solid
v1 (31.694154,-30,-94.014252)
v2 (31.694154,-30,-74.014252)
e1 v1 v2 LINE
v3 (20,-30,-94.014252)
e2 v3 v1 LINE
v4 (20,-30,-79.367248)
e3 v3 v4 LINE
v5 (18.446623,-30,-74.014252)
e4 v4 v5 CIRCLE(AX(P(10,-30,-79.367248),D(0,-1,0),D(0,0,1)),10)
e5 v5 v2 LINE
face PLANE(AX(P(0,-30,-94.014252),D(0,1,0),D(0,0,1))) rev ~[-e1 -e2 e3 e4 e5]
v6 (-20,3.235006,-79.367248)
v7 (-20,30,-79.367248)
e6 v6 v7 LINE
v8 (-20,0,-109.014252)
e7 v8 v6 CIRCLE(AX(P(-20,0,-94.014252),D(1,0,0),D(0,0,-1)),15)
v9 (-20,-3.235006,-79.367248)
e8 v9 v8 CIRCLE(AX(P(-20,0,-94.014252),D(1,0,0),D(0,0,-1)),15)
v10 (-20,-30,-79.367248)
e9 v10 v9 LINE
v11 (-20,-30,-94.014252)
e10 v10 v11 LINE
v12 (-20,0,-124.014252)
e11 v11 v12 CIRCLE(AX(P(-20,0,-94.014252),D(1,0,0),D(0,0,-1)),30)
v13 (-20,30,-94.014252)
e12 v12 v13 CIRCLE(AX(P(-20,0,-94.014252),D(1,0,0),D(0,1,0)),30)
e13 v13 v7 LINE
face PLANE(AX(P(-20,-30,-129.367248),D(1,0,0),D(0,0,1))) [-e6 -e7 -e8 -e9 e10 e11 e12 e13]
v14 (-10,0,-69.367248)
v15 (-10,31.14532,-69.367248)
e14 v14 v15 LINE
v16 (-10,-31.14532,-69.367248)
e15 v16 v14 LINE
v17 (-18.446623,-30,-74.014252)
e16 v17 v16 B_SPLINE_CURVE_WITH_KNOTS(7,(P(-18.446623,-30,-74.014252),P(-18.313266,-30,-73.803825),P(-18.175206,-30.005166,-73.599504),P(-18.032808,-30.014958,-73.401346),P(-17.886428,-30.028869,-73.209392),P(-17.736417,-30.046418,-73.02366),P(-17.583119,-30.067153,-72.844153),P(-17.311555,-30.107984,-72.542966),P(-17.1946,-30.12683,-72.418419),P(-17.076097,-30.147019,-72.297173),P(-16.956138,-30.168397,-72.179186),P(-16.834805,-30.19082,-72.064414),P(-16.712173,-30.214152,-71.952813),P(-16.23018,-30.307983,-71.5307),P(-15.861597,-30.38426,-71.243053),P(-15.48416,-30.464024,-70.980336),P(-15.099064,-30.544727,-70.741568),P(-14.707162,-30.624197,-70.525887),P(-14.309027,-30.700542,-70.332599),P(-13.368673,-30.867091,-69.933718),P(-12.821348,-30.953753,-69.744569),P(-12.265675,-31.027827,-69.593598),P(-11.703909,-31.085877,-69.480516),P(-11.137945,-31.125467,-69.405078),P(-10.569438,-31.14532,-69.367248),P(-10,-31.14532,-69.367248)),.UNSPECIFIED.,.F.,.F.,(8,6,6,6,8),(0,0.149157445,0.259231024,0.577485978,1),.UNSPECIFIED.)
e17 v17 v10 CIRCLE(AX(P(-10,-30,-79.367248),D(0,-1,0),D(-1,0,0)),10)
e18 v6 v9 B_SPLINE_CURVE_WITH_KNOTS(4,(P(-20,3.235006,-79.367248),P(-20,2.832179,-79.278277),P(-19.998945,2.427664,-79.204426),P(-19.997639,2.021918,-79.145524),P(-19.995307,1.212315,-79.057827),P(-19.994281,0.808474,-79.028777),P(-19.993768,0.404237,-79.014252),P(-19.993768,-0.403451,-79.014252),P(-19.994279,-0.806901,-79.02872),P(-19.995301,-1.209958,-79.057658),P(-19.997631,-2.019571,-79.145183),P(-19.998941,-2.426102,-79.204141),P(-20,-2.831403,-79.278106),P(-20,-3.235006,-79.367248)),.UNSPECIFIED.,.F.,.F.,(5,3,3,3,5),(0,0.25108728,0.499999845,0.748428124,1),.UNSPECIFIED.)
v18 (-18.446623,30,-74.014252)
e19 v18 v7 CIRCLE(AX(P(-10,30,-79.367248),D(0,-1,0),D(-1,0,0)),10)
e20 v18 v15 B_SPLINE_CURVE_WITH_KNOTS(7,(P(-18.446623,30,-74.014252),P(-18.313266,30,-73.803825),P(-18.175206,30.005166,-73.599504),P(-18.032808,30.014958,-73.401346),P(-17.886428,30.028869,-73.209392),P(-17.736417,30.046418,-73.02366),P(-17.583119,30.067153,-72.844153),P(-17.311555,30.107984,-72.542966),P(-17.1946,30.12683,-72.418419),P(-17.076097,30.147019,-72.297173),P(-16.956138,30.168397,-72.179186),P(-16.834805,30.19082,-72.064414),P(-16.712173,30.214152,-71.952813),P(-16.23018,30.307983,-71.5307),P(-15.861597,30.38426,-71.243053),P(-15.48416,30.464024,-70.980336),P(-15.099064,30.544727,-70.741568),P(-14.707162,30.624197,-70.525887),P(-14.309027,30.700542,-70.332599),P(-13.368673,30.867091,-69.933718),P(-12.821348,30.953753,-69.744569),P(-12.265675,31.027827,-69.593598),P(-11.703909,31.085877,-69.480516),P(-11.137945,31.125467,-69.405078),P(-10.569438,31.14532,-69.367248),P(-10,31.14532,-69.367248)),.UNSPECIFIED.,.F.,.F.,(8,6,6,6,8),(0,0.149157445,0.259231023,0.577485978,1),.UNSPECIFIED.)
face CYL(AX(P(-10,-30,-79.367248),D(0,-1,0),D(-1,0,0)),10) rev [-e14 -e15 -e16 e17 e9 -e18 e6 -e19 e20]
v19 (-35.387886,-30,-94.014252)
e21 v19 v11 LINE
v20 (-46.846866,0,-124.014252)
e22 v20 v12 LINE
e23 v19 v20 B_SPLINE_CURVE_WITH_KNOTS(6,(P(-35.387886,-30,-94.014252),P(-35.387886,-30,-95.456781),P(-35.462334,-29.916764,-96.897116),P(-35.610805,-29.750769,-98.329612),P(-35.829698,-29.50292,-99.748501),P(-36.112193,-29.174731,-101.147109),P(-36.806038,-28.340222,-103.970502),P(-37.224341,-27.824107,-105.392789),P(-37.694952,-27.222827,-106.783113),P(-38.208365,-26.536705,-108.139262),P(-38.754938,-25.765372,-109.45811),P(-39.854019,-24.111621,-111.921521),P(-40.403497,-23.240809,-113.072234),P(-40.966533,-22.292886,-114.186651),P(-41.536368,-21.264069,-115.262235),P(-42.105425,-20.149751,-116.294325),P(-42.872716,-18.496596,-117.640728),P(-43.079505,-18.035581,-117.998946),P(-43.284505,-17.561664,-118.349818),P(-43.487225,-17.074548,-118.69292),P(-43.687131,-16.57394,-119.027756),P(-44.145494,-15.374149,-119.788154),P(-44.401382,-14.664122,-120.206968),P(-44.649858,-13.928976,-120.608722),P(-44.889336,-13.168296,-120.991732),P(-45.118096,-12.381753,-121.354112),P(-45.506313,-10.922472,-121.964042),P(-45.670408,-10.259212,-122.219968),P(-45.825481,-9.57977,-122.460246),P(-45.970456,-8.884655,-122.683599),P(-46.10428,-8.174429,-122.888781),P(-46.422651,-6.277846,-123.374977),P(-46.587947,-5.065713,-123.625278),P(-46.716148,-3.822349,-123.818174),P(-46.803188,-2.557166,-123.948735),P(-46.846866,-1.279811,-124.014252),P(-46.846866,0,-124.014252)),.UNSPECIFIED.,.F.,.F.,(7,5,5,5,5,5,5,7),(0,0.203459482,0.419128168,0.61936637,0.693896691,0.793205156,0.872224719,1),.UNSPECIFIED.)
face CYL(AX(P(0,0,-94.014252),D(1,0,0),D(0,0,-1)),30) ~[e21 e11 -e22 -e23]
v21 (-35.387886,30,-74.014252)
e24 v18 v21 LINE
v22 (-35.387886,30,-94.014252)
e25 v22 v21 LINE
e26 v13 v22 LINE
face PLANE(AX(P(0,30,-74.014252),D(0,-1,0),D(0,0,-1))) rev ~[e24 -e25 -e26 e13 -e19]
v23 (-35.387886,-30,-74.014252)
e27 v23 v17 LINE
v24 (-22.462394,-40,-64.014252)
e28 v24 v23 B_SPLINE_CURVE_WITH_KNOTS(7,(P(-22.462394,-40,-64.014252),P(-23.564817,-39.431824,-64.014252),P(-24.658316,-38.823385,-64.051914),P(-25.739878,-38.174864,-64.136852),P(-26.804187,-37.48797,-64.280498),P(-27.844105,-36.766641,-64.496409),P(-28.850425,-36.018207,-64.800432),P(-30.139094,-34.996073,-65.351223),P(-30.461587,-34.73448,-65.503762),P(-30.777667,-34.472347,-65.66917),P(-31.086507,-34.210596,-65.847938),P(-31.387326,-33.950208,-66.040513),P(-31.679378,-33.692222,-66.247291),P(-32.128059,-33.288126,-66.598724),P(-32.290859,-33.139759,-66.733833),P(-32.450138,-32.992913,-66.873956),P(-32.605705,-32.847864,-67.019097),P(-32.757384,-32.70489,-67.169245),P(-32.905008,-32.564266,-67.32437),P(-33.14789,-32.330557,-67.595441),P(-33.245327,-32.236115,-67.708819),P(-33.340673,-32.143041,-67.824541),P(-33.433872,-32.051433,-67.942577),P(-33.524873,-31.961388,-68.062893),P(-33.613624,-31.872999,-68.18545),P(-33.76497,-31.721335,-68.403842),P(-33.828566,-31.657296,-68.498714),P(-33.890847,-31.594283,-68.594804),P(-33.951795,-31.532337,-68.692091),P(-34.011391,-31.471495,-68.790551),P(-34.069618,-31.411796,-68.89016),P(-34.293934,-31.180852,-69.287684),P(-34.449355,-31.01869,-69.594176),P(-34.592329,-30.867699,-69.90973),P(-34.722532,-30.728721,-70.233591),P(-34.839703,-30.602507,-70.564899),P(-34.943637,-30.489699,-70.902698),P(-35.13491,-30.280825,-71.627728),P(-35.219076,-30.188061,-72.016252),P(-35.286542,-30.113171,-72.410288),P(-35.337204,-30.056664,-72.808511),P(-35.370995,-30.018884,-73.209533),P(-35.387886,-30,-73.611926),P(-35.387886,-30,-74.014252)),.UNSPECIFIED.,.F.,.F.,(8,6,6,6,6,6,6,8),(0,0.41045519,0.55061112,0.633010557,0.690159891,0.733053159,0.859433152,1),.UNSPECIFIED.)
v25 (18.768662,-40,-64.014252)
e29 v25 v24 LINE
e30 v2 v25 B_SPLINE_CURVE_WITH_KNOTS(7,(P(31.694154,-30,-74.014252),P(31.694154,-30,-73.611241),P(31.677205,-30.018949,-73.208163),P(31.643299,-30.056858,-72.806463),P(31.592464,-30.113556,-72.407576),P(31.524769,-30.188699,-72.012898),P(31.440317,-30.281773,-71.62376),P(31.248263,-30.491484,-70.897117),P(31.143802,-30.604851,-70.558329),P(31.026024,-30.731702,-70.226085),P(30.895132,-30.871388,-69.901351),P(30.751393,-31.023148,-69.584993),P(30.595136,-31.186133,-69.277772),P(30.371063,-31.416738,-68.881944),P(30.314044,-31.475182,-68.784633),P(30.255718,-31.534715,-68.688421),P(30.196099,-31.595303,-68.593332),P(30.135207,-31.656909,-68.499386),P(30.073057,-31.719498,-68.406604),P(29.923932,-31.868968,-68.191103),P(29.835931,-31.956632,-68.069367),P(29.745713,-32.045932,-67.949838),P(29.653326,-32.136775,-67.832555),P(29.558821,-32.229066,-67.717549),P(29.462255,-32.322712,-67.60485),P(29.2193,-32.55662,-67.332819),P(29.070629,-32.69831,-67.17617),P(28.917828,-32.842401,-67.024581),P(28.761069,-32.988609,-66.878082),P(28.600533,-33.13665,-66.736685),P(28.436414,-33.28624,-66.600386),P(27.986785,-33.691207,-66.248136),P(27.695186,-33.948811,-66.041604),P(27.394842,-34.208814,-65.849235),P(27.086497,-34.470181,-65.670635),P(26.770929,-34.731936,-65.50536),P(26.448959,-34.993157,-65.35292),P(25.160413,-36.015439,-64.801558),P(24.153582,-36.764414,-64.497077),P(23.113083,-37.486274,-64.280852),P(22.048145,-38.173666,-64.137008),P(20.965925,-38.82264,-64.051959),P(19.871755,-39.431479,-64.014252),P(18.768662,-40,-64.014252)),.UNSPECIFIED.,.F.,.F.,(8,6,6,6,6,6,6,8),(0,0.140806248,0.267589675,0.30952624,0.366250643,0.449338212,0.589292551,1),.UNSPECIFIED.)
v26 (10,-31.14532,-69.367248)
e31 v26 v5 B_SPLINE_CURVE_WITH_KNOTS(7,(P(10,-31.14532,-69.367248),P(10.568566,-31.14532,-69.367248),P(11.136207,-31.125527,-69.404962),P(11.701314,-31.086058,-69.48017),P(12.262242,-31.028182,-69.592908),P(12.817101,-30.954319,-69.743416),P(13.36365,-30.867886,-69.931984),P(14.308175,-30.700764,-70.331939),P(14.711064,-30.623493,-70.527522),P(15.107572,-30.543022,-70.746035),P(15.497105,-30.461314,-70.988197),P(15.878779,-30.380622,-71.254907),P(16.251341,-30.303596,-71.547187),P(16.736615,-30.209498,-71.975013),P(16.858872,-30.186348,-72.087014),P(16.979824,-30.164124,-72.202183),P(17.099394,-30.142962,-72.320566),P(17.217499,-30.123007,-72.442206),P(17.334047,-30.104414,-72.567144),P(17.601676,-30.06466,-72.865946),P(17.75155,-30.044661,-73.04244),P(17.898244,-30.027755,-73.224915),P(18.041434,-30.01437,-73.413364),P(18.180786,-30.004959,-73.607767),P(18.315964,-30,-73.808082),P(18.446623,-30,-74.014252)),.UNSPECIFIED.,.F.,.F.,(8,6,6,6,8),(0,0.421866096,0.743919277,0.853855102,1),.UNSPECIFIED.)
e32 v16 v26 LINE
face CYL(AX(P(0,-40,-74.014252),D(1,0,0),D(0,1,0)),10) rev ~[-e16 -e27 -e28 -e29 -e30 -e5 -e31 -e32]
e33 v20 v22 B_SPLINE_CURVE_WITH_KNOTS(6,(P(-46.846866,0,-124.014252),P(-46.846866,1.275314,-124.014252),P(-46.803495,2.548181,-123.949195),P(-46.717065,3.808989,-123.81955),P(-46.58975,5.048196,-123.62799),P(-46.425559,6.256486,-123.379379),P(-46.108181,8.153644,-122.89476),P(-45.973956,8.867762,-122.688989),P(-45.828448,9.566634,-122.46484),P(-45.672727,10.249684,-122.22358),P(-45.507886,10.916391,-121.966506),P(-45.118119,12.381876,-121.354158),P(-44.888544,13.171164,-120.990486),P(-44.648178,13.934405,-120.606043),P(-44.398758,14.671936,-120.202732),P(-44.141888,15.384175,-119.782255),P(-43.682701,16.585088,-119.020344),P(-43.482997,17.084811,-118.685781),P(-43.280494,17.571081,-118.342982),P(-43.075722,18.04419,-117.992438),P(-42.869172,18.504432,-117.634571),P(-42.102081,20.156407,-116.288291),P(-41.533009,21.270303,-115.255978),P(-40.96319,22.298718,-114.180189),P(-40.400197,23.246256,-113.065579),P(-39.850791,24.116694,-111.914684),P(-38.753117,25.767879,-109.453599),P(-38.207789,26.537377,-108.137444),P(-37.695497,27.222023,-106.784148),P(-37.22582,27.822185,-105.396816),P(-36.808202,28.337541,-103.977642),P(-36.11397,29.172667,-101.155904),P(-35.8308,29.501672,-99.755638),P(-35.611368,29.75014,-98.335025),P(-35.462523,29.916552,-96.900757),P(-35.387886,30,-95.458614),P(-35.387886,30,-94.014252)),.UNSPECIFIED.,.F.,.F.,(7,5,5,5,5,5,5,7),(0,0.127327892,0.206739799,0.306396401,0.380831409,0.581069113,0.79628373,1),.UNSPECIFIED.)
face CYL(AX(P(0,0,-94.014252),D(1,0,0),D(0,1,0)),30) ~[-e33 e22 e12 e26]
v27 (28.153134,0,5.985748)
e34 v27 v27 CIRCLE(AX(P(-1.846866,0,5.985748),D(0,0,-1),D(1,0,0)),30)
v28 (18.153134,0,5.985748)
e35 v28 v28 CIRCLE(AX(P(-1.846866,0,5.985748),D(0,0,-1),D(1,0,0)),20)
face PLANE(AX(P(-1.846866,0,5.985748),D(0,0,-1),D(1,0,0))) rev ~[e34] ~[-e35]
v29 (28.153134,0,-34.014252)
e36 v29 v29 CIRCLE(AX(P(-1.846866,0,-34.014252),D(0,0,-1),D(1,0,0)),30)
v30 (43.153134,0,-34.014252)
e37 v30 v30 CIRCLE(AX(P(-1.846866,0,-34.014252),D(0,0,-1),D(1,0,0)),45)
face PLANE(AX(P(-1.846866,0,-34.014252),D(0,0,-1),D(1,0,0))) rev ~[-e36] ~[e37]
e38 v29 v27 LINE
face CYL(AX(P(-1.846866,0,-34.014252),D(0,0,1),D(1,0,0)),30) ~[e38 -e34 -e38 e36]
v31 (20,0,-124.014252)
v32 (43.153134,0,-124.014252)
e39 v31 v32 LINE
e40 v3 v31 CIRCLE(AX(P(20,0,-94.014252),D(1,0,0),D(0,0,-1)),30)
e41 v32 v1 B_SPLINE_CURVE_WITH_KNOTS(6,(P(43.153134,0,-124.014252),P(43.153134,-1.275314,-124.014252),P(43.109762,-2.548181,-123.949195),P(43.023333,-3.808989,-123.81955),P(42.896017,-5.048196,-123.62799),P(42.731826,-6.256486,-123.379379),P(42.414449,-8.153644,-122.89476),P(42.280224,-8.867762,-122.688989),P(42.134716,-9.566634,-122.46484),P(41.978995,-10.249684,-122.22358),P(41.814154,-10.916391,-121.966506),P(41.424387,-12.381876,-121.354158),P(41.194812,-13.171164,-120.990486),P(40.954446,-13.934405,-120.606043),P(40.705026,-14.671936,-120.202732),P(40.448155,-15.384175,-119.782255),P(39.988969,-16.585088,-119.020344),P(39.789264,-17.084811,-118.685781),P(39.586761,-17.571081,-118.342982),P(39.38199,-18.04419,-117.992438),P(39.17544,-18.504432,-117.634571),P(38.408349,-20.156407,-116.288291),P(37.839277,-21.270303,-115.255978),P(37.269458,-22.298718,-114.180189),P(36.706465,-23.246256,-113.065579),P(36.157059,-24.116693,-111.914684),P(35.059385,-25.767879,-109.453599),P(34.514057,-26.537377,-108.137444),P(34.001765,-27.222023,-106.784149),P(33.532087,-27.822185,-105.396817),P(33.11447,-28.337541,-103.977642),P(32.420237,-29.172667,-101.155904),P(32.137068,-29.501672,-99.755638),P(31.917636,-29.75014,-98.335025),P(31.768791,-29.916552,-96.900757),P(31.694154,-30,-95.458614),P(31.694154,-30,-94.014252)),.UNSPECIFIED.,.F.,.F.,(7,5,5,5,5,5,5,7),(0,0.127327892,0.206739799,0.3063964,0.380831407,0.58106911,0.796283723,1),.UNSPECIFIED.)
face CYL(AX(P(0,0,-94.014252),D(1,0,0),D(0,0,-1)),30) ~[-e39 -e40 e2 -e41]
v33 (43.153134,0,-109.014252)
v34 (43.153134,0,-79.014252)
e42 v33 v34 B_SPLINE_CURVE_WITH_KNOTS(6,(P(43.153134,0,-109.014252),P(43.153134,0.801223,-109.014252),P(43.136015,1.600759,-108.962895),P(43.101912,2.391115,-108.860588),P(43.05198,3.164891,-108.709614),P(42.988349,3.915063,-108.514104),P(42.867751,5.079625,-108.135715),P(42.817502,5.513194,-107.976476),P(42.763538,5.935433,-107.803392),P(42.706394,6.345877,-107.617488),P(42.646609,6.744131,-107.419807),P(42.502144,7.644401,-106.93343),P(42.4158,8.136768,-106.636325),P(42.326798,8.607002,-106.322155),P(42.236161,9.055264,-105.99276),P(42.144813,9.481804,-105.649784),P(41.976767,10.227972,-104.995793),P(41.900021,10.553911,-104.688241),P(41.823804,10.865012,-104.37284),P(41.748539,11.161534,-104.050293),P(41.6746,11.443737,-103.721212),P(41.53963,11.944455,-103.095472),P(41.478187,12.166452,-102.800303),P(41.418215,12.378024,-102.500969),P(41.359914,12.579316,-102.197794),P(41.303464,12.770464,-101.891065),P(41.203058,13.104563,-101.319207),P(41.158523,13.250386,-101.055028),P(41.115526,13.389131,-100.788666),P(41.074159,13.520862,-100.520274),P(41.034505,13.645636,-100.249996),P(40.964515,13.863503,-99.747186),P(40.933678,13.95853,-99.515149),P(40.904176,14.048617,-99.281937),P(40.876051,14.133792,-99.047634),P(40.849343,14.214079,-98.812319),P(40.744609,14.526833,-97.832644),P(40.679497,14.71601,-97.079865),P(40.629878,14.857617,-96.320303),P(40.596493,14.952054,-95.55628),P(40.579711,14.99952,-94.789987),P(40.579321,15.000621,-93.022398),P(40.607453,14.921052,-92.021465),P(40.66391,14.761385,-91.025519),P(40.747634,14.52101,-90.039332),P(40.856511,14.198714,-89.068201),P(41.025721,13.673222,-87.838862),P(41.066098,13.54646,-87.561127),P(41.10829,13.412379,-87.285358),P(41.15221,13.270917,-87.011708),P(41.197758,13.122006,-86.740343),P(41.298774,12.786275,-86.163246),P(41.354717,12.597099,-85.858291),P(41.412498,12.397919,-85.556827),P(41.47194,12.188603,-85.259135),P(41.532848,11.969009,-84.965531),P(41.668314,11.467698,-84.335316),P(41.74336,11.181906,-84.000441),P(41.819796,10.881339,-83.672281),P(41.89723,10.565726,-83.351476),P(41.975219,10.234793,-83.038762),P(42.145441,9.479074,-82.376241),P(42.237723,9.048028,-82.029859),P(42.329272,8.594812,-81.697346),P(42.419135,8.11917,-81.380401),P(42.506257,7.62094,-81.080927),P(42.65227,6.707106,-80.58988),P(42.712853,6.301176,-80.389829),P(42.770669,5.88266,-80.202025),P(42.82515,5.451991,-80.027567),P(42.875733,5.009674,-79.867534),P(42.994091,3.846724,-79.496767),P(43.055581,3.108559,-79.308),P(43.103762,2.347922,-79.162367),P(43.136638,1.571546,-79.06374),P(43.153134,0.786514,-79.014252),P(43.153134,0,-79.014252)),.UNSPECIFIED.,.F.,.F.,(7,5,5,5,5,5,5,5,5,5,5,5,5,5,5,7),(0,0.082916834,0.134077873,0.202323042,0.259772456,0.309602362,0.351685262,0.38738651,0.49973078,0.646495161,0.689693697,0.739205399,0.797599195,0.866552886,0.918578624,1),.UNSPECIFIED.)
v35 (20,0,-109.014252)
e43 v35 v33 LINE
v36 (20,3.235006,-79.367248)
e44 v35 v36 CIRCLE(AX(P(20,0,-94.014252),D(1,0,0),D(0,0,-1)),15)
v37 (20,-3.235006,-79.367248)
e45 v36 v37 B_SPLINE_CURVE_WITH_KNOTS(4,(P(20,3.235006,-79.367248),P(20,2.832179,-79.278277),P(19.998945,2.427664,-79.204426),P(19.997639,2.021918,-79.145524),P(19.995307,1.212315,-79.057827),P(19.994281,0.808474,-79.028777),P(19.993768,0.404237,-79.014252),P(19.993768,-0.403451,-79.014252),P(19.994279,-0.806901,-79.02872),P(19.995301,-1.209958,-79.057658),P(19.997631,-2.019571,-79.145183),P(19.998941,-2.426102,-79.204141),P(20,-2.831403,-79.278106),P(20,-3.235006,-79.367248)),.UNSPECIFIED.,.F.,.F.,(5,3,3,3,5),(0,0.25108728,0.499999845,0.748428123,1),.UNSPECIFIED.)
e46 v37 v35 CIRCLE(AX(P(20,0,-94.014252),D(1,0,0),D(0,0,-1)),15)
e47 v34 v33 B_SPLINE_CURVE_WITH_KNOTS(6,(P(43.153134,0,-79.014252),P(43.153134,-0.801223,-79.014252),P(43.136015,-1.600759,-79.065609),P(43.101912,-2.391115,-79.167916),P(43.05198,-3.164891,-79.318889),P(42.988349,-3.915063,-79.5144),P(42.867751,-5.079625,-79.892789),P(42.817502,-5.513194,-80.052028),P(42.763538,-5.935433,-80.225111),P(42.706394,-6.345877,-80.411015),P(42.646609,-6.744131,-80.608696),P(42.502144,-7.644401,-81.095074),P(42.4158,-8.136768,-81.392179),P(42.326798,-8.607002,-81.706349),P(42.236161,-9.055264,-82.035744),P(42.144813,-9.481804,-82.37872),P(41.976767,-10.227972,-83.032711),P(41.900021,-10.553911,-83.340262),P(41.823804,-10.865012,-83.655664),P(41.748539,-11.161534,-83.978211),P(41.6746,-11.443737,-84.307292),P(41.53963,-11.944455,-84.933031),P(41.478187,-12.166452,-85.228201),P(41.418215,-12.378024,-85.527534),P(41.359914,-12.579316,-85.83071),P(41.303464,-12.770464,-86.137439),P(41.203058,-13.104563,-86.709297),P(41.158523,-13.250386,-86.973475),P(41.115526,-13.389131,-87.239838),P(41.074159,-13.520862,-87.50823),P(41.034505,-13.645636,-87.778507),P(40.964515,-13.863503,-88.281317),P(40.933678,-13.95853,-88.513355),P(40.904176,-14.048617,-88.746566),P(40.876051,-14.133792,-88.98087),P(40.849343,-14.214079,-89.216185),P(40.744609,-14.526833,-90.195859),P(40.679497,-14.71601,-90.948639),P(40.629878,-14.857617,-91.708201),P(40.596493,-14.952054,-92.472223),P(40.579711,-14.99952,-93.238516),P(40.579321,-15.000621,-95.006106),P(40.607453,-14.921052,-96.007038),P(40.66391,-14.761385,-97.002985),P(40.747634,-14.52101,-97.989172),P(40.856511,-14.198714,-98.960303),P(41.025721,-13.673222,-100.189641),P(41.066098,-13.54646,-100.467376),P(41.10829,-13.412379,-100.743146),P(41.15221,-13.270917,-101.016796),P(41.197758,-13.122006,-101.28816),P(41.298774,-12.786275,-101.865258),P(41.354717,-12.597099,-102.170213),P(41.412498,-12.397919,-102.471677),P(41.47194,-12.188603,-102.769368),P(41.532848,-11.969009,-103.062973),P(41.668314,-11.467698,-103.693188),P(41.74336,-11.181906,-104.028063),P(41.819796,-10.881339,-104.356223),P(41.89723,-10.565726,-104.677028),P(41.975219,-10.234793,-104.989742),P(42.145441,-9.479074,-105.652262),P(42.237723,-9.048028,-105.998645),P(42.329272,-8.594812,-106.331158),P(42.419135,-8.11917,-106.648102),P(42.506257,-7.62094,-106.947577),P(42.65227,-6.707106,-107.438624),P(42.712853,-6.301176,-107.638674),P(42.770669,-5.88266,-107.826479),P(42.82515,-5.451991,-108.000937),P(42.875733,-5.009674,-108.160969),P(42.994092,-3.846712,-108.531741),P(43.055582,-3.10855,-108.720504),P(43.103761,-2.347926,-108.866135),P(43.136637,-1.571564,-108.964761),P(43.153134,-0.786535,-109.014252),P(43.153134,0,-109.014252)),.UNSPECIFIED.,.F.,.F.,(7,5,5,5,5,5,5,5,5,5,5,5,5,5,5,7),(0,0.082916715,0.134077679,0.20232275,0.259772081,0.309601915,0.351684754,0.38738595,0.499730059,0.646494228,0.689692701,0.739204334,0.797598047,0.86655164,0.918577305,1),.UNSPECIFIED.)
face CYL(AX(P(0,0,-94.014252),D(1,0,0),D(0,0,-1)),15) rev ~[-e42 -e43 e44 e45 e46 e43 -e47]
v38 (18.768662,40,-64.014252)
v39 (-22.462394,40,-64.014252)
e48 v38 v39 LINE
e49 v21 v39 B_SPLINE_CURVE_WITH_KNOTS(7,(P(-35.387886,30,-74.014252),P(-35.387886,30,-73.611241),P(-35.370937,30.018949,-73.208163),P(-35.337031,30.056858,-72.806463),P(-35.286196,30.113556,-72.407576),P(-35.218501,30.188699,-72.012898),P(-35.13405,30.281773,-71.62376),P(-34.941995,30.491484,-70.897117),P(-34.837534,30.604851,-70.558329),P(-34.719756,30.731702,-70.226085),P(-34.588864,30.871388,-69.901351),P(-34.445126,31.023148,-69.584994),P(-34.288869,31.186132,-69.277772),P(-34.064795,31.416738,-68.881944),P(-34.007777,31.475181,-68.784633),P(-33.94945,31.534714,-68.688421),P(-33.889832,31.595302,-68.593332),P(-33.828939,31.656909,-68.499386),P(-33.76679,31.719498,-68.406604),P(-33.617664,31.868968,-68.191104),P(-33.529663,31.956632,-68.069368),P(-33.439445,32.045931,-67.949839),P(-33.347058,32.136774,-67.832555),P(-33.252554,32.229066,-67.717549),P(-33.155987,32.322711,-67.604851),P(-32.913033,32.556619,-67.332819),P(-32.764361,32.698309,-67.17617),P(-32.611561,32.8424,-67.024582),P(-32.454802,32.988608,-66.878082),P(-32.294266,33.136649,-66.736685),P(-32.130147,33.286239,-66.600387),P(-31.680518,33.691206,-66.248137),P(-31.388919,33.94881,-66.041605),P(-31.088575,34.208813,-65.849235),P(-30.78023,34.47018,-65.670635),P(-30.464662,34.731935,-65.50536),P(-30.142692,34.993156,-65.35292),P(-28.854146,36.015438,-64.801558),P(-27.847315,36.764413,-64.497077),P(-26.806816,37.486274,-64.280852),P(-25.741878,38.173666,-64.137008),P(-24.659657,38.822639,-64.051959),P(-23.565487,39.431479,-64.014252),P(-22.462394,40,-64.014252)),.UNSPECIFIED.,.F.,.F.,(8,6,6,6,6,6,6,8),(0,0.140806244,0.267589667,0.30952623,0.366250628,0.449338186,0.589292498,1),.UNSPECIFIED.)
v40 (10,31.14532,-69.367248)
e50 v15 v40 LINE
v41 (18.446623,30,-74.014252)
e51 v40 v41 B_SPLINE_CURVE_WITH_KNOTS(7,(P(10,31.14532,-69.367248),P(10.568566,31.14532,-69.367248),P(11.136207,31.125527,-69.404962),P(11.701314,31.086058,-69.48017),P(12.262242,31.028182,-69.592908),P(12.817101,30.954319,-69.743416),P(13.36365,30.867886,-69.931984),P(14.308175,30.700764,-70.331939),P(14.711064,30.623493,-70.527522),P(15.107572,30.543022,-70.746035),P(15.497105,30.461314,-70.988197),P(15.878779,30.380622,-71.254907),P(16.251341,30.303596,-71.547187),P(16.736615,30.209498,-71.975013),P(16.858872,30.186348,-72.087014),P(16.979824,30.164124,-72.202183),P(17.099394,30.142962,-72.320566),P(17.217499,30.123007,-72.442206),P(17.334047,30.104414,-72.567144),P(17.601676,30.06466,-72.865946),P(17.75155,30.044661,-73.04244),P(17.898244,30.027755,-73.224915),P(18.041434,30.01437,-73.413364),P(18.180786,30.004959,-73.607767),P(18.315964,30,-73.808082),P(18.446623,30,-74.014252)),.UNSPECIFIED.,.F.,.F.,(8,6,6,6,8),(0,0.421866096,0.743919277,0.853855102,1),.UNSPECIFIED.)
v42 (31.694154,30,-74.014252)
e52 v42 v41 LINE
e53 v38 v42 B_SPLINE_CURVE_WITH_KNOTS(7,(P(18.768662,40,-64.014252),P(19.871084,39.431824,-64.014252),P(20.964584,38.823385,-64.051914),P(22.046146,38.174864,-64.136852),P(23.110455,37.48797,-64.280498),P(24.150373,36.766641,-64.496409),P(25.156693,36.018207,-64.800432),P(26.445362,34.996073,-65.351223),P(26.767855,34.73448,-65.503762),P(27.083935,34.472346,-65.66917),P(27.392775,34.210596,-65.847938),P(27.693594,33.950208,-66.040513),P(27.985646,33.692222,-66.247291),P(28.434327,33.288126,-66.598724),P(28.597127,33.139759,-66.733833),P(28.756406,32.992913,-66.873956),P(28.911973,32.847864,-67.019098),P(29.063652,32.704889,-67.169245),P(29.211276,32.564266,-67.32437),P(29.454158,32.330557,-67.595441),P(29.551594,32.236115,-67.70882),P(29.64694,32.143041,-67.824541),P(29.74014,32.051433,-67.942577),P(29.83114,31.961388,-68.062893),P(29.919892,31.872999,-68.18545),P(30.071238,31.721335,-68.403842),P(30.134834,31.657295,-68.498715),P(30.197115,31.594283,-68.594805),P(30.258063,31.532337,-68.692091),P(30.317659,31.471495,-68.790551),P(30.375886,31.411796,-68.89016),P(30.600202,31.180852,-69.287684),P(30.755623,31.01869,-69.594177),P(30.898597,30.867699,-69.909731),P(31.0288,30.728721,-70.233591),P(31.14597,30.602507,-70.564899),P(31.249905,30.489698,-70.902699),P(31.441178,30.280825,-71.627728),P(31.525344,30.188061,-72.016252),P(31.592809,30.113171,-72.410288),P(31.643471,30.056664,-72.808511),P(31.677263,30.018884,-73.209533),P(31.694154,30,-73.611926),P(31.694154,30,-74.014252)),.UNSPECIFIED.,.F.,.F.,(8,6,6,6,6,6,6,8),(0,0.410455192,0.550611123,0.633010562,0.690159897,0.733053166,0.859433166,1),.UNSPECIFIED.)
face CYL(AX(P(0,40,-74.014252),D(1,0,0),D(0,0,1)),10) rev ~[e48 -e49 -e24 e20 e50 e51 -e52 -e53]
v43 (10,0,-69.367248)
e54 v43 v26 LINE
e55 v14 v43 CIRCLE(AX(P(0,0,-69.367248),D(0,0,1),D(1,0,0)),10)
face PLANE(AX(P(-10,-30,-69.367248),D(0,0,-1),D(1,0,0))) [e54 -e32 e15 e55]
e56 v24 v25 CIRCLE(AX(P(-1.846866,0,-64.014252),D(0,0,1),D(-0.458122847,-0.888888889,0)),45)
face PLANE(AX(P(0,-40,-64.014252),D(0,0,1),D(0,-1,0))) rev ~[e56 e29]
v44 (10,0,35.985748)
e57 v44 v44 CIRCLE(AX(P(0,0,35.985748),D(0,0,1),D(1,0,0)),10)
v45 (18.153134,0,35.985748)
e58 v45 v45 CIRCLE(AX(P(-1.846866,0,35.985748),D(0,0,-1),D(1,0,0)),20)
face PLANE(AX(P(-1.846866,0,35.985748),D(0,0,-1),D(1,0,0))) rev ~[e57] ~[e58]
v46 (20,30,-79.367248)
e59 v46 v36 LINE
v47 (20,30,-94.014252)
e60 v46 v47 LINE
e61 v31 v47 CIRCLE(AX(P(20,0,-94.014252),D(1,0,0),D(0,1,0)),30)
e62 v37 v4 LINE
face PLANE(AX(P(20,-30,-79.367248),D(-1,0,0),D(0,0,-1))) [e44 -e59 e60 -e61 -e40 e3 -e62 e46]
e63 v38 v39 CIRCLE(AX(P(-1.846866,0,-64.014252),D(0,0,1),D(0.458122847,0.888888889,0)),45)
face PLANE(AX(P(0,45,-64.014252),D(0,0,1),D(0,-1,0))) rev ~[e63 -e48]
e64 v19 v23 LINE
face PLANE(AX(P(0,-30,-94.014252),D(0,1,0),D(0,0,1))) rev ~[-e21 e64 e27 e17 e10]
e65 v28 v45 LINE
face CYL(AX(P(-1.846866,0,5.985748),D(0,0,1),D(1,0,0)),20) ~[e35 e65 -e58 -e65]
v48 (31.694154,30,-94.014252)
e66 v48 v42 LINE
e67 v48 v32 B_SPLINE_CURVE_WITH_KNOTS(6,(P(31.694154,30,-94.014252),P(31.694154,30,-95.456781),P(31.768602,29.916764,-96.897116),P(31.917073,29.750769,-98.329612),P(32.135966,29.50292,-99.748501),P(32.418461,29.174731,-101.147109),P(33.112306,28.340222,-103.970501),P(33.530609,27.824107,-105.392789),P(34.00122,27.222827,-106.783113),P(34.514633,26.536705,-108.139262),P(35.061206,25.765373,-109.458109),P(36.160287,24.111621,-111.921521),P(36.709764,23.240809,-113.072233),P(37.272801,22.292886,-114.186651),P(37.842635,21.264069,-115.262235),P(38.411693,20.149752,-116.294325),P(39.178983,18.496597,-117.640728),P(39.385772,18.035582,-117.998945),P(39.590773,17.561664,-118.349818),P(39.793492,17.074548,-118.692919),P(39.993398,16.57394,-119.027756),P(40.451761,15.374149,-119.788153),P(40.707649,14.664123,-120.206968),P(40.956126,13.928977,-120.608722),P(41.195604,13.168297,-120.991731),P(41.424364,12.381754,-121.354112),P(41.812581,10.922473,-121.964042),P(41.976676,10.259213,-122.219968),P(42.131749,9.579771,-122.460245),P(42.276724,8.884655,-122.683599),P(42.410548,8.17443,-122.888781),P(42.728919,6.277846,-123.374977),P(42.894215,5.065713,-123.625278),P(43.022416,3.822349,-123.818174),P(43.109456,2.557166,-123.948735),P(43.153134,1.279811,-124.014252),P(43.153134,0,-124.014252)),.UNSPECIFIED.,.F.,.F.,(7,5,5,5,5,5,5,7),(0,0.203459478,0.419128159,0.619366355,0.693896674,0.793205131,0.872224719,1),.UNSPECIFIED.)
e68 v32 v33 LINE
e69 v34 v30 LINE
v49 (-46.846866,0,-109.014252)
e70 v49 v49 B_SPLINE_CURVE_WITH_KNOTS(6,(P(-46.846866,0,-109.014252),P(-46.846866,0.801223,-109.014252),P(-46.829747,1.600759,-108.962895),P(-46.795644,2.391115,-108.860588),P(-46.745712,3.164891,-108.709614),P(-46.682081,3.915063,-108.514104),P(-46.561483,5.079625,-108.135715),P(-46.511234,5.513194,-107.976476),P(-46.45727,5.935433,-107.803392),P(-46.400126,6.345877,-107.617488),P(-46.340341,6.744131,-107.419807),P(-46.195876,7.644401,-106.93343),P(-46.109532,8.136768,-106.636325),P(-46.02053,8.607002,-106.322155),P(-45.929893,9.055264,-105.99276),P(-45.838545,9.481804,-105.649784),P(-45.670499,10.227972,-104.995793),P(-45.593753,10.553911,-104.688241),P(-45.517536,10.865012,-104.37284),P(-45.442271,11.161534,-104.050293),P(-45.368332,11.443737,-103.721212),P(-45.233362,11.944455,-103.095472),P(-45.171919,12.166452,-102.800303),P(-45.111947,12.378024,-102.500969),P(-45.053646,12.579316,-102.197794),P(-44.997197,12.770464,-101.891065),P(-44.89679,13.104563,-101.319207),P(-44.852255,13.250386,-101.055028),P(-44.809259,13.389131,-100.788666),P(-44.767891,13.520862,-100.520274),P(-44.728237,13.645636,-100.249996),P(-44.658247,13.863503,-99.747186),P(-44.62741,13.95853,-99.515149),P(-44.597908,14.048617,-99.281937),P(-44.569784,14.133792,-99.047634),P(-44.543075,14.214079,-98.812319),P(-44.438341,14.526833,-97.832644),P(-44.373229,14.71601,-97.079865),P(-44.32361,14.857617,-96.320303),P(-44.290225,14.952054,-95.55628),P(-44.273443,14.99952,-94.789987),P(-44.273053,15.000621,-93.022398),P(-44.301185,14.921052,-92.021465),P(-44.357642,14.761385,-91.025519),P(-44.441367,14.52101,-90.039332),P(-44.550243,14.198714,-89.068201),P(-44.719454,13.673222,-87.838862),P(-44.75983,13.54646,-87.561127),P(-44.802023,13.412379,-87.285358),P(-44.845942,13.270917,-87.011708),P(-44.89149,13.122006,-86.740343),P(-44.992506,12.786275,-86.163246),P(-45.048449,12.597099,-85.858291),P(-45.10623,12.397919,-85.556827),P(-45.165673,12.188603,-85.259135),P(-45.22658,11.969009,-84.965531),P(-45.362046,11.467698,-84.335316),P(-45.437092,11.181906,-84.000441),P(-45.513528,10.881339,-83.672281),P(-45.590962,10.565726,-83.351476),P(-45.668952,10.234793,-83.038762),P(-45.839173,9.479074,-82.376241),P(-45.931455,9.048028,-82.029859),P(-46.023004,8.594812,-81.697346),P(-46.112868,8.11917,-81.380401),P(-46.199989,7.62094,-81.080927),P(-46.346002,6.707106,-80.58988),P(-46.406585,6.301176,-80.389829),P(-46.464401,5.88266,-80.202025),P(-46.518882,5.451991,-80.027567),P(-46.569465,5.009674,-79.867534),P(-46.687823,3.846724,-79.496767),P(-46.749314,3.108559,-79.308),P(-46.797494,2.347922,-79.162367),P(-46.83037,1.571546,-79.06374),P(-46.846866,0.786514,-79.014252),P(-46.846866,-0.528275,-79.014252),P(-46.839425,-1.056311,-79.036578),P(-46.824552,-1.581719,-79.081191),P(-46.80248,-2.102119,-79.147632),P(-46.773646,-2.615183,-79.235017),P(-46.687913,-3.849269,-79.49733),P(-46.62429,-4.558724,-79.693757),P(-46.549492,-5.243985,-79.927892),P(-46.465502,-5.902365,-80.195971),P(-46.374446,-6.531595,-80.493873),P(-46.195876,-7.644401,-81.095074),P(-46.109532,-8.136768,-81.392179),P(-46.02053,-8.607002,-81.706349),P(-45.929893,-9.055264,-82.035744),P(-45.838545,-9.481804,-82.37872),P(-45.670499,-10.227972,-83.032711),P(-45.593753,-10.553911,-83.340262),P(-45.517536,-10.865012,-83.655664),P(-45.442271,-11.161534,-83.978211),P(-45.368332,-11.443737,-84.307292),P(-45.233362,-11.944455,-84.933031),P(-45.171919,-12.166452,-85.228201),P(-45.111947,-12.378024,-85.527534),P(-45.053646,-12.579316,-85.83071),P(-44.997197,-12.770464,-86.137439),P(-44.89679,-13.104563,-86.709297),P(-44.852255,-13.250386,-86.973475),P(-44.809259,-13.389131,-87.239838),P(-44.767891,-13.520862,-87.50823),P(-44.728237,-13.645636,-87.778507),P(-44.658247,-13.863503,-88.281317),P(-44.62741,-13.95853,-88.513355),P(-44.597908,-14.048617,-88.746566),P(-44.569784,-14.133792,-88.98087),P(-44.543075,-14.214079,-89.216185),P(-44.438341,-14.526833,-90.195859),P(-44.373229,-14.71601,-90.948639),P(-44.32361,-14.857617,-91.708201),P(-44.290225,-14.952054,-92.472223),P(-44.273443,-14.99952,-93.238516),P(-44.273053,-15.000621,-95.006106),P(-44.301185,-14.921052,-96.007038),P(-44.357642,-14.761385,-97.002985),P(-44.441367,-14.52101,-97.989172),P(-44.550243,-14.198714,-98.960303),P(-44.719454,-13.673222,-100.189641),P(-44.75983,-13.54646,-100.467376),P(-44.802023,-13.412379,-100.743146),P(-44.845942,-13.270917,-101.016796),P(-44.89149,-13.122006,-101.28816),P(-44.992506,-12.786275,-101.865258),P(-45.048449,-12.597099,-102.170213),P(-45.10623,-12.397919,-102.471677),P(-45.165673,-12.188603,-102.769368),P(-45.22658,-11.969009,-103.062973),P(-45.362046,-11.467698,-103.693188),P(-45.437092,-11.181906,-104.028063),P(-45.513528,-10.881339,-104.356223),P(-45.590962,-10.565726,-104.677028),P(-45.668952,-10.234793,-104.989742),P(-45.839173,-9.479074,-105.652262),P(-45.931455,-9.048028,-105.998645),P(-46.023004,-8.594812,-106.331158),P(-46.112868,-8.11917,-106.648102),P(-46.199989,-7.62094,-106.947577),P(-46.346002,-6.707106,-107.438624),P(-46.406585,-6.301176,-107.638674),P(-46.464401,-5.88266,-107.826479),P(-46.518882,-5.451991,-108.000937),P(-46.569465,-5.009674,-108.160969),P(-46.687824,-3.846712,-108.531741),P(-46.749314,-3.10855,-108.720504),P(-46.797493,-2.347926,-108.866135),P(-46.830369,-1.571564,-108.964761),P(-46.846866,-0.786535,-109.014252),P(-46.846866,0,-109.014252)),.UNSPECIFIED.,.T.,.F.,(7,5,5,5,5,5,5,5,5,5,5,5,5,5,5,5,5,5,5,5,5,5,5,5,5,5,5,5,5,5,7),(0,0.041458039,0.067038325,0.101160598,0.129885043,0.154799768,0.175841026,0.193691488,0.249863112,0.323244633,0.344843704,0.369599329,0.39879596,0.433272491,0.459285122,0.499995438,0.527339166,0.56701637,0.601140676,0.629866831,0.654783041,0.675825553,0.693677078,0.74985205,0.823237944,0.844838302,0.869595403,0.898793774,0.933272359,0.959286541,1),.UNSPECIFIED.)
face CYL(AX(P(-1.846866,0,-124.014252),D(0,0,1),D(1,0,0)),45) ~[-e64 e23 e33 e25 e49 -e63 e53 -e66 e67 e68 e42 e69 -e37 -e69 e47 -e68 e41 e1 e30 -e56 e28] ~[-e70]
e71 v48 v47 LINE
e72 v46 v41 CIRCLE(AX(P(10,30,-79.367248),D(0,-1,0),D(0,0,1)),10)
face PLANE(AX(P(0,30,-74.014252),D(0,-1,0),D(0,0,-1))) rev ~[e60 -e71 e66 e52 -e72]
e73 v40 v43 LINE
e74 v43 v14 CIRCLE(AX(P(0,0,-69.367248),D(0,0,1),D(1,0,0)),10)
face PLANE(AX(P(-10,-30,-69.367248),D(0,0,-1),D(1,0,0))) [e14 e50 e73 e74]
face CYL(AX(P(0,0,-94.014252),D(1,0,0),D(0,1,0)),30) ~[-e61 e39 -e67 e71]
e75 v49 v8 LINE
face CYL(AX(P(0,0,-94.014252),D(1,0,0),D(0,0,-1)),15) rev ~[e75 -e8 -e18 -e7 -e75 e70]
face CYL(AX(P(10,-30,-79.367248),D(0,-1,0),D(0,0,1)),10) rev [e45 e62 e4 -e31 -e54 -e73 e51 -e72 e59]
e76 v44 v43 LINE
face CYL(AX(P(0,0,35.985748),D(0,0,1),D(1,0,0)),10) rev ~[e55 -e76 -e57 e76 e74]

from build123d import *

# Parameters (mm, degrees)
SKETCH2_R          = 10
CUT_EXTRUDE1_DEPTH = 216
CUT_EXTRUDE2_DEPTH = 108
CUT_EXTRUDE3_DEPTH = 108
SKETCH7_R          = 15
CUT_EXTRUDE4_DEPTH = 108


with BuildPart() as part:
    # Sketch1 → Revolve1 (revolve)
    with BuildSketch(Plane(origin=(0, 0, 0), x_dir=(1, 0, 0), z_dir=(0, 1, 0)), mode=Mode.PRIVATE) as revolve1_sk:
        Polygon((-1.846866082, -35.985748219), (-1.846866082, 124.014251781), (-46.846866082, 124.014251781), (-46.846866082, 34.014251781), (-31.846866082, 34.014251781), (-31.846866082, -5.985748219), (-21.846866082, -5.985748219), (-21.846866082, -35.985748219), align=None)
    revolve(revolve1_sk.sketch.rotate(Axis((-1.846866082, 0, 35.985748219), (0, 0, -1)), 180), axis=Axis((-1.846866082, 0, 35.985748219), (0, 0, -1)))

    # Sketch2 → Cut-Extrude1 (cut)
    with BuildSketch(Plane.XY.offset(35.985748219)):
        Circle(SKETCH2_R)
    extrude(amount=-CUT_EXTRUDE1_DEPTH, mode=Mode.SUBTRACT)

    # Sketch4 → Cut-Extrude2 (cut, symmetric)
    with BuildSketch(Plane(origin=(0, 0, 0), x_dir=(0, 0, -1), z_dir=(1, 0, 0))):
        with BuildLine():
            Line((124.014251781, 45), (64.014251781, 45))
            Line((64.014251781, 45), (64.014251781, 40))
            ThreePointArc((64.014251781, 40), (66.94318397, 32.928932188), (74.014251781, 30))
            Line((74.014251781, 30), (94.014251781, 30))
            ThreePointArc((94.014251781, 30), (115.227455222, 21.213203431), (124.014251781, -1.4e-08))
            Line((124.014251781, -1.4e-08), (124.014251781, 45))
        make_face()
        with BuildLine():
            Line((124.014251781, -45), (124.014251781, -1.4e-08))
            ThreePointArc((124.014251781, -1.4e-08), (115.227455212, -21.213203441), (94.014251781, -30))
            Line((94.014251781, -30), (74.014251781, -30))
            ThreePointArc((74.014251781, -30), (66.94318397, -32.928932188), (64.014251781, -40))
            Line((64.014251781, -40), (64.014251781, -45))
            Line((64.014251781, -45), (124.014251781, -45))
        make_face()
    extrude(amount=CUT_EXTRUDE2_DEPTH, both=True, mode=Mode.SUBTRACT)

    # Sketch5 → Cut-Extrude3 (cut, symmetric)
    with BuildSketch(Plane(origin=(0, -30, 0), x_dir=(-1, 0, 0), z_dir=(0, -1, 0))):
        with BuildLine():
            Line((-20, 129.367247505), (20, 129.367247505))
            Line((20, 129.367247505), (20, 79.367247505))
            ThreePointArc((20, 79.367247505), (17.071067812, 72.296179693), (10, 69.367247505))
            Line((10, 69.367247505), (-10, 69.367247505))
            ThreePointArc((-10, 69.367247505), (-17.071067812, 72.296179693), (-20, 79.367247505))
            Line((-20, 79.367247505), (-20, 129.367247505))
        make_face()
    extrude(amount=CUT_EXTRUDE3_DEPTH, both=True, mode=Mode.SUBTRACT)

    # Sketch7 → Cut-Extrude4 (cut, symmetric)
    with BuildSketch(Plane(origin=(0, 0, 0), x_dir=(0, 0, -1), z_dir=(1, 0, 0))):
        with Locations((94.014251781, 0)):
            Circle(SKETCH7_R)
    extrude(amount=CUT_EXTRUDE4_DEPTH, both=True, mode=Mode.SUBTRACT)


solid = part.part
